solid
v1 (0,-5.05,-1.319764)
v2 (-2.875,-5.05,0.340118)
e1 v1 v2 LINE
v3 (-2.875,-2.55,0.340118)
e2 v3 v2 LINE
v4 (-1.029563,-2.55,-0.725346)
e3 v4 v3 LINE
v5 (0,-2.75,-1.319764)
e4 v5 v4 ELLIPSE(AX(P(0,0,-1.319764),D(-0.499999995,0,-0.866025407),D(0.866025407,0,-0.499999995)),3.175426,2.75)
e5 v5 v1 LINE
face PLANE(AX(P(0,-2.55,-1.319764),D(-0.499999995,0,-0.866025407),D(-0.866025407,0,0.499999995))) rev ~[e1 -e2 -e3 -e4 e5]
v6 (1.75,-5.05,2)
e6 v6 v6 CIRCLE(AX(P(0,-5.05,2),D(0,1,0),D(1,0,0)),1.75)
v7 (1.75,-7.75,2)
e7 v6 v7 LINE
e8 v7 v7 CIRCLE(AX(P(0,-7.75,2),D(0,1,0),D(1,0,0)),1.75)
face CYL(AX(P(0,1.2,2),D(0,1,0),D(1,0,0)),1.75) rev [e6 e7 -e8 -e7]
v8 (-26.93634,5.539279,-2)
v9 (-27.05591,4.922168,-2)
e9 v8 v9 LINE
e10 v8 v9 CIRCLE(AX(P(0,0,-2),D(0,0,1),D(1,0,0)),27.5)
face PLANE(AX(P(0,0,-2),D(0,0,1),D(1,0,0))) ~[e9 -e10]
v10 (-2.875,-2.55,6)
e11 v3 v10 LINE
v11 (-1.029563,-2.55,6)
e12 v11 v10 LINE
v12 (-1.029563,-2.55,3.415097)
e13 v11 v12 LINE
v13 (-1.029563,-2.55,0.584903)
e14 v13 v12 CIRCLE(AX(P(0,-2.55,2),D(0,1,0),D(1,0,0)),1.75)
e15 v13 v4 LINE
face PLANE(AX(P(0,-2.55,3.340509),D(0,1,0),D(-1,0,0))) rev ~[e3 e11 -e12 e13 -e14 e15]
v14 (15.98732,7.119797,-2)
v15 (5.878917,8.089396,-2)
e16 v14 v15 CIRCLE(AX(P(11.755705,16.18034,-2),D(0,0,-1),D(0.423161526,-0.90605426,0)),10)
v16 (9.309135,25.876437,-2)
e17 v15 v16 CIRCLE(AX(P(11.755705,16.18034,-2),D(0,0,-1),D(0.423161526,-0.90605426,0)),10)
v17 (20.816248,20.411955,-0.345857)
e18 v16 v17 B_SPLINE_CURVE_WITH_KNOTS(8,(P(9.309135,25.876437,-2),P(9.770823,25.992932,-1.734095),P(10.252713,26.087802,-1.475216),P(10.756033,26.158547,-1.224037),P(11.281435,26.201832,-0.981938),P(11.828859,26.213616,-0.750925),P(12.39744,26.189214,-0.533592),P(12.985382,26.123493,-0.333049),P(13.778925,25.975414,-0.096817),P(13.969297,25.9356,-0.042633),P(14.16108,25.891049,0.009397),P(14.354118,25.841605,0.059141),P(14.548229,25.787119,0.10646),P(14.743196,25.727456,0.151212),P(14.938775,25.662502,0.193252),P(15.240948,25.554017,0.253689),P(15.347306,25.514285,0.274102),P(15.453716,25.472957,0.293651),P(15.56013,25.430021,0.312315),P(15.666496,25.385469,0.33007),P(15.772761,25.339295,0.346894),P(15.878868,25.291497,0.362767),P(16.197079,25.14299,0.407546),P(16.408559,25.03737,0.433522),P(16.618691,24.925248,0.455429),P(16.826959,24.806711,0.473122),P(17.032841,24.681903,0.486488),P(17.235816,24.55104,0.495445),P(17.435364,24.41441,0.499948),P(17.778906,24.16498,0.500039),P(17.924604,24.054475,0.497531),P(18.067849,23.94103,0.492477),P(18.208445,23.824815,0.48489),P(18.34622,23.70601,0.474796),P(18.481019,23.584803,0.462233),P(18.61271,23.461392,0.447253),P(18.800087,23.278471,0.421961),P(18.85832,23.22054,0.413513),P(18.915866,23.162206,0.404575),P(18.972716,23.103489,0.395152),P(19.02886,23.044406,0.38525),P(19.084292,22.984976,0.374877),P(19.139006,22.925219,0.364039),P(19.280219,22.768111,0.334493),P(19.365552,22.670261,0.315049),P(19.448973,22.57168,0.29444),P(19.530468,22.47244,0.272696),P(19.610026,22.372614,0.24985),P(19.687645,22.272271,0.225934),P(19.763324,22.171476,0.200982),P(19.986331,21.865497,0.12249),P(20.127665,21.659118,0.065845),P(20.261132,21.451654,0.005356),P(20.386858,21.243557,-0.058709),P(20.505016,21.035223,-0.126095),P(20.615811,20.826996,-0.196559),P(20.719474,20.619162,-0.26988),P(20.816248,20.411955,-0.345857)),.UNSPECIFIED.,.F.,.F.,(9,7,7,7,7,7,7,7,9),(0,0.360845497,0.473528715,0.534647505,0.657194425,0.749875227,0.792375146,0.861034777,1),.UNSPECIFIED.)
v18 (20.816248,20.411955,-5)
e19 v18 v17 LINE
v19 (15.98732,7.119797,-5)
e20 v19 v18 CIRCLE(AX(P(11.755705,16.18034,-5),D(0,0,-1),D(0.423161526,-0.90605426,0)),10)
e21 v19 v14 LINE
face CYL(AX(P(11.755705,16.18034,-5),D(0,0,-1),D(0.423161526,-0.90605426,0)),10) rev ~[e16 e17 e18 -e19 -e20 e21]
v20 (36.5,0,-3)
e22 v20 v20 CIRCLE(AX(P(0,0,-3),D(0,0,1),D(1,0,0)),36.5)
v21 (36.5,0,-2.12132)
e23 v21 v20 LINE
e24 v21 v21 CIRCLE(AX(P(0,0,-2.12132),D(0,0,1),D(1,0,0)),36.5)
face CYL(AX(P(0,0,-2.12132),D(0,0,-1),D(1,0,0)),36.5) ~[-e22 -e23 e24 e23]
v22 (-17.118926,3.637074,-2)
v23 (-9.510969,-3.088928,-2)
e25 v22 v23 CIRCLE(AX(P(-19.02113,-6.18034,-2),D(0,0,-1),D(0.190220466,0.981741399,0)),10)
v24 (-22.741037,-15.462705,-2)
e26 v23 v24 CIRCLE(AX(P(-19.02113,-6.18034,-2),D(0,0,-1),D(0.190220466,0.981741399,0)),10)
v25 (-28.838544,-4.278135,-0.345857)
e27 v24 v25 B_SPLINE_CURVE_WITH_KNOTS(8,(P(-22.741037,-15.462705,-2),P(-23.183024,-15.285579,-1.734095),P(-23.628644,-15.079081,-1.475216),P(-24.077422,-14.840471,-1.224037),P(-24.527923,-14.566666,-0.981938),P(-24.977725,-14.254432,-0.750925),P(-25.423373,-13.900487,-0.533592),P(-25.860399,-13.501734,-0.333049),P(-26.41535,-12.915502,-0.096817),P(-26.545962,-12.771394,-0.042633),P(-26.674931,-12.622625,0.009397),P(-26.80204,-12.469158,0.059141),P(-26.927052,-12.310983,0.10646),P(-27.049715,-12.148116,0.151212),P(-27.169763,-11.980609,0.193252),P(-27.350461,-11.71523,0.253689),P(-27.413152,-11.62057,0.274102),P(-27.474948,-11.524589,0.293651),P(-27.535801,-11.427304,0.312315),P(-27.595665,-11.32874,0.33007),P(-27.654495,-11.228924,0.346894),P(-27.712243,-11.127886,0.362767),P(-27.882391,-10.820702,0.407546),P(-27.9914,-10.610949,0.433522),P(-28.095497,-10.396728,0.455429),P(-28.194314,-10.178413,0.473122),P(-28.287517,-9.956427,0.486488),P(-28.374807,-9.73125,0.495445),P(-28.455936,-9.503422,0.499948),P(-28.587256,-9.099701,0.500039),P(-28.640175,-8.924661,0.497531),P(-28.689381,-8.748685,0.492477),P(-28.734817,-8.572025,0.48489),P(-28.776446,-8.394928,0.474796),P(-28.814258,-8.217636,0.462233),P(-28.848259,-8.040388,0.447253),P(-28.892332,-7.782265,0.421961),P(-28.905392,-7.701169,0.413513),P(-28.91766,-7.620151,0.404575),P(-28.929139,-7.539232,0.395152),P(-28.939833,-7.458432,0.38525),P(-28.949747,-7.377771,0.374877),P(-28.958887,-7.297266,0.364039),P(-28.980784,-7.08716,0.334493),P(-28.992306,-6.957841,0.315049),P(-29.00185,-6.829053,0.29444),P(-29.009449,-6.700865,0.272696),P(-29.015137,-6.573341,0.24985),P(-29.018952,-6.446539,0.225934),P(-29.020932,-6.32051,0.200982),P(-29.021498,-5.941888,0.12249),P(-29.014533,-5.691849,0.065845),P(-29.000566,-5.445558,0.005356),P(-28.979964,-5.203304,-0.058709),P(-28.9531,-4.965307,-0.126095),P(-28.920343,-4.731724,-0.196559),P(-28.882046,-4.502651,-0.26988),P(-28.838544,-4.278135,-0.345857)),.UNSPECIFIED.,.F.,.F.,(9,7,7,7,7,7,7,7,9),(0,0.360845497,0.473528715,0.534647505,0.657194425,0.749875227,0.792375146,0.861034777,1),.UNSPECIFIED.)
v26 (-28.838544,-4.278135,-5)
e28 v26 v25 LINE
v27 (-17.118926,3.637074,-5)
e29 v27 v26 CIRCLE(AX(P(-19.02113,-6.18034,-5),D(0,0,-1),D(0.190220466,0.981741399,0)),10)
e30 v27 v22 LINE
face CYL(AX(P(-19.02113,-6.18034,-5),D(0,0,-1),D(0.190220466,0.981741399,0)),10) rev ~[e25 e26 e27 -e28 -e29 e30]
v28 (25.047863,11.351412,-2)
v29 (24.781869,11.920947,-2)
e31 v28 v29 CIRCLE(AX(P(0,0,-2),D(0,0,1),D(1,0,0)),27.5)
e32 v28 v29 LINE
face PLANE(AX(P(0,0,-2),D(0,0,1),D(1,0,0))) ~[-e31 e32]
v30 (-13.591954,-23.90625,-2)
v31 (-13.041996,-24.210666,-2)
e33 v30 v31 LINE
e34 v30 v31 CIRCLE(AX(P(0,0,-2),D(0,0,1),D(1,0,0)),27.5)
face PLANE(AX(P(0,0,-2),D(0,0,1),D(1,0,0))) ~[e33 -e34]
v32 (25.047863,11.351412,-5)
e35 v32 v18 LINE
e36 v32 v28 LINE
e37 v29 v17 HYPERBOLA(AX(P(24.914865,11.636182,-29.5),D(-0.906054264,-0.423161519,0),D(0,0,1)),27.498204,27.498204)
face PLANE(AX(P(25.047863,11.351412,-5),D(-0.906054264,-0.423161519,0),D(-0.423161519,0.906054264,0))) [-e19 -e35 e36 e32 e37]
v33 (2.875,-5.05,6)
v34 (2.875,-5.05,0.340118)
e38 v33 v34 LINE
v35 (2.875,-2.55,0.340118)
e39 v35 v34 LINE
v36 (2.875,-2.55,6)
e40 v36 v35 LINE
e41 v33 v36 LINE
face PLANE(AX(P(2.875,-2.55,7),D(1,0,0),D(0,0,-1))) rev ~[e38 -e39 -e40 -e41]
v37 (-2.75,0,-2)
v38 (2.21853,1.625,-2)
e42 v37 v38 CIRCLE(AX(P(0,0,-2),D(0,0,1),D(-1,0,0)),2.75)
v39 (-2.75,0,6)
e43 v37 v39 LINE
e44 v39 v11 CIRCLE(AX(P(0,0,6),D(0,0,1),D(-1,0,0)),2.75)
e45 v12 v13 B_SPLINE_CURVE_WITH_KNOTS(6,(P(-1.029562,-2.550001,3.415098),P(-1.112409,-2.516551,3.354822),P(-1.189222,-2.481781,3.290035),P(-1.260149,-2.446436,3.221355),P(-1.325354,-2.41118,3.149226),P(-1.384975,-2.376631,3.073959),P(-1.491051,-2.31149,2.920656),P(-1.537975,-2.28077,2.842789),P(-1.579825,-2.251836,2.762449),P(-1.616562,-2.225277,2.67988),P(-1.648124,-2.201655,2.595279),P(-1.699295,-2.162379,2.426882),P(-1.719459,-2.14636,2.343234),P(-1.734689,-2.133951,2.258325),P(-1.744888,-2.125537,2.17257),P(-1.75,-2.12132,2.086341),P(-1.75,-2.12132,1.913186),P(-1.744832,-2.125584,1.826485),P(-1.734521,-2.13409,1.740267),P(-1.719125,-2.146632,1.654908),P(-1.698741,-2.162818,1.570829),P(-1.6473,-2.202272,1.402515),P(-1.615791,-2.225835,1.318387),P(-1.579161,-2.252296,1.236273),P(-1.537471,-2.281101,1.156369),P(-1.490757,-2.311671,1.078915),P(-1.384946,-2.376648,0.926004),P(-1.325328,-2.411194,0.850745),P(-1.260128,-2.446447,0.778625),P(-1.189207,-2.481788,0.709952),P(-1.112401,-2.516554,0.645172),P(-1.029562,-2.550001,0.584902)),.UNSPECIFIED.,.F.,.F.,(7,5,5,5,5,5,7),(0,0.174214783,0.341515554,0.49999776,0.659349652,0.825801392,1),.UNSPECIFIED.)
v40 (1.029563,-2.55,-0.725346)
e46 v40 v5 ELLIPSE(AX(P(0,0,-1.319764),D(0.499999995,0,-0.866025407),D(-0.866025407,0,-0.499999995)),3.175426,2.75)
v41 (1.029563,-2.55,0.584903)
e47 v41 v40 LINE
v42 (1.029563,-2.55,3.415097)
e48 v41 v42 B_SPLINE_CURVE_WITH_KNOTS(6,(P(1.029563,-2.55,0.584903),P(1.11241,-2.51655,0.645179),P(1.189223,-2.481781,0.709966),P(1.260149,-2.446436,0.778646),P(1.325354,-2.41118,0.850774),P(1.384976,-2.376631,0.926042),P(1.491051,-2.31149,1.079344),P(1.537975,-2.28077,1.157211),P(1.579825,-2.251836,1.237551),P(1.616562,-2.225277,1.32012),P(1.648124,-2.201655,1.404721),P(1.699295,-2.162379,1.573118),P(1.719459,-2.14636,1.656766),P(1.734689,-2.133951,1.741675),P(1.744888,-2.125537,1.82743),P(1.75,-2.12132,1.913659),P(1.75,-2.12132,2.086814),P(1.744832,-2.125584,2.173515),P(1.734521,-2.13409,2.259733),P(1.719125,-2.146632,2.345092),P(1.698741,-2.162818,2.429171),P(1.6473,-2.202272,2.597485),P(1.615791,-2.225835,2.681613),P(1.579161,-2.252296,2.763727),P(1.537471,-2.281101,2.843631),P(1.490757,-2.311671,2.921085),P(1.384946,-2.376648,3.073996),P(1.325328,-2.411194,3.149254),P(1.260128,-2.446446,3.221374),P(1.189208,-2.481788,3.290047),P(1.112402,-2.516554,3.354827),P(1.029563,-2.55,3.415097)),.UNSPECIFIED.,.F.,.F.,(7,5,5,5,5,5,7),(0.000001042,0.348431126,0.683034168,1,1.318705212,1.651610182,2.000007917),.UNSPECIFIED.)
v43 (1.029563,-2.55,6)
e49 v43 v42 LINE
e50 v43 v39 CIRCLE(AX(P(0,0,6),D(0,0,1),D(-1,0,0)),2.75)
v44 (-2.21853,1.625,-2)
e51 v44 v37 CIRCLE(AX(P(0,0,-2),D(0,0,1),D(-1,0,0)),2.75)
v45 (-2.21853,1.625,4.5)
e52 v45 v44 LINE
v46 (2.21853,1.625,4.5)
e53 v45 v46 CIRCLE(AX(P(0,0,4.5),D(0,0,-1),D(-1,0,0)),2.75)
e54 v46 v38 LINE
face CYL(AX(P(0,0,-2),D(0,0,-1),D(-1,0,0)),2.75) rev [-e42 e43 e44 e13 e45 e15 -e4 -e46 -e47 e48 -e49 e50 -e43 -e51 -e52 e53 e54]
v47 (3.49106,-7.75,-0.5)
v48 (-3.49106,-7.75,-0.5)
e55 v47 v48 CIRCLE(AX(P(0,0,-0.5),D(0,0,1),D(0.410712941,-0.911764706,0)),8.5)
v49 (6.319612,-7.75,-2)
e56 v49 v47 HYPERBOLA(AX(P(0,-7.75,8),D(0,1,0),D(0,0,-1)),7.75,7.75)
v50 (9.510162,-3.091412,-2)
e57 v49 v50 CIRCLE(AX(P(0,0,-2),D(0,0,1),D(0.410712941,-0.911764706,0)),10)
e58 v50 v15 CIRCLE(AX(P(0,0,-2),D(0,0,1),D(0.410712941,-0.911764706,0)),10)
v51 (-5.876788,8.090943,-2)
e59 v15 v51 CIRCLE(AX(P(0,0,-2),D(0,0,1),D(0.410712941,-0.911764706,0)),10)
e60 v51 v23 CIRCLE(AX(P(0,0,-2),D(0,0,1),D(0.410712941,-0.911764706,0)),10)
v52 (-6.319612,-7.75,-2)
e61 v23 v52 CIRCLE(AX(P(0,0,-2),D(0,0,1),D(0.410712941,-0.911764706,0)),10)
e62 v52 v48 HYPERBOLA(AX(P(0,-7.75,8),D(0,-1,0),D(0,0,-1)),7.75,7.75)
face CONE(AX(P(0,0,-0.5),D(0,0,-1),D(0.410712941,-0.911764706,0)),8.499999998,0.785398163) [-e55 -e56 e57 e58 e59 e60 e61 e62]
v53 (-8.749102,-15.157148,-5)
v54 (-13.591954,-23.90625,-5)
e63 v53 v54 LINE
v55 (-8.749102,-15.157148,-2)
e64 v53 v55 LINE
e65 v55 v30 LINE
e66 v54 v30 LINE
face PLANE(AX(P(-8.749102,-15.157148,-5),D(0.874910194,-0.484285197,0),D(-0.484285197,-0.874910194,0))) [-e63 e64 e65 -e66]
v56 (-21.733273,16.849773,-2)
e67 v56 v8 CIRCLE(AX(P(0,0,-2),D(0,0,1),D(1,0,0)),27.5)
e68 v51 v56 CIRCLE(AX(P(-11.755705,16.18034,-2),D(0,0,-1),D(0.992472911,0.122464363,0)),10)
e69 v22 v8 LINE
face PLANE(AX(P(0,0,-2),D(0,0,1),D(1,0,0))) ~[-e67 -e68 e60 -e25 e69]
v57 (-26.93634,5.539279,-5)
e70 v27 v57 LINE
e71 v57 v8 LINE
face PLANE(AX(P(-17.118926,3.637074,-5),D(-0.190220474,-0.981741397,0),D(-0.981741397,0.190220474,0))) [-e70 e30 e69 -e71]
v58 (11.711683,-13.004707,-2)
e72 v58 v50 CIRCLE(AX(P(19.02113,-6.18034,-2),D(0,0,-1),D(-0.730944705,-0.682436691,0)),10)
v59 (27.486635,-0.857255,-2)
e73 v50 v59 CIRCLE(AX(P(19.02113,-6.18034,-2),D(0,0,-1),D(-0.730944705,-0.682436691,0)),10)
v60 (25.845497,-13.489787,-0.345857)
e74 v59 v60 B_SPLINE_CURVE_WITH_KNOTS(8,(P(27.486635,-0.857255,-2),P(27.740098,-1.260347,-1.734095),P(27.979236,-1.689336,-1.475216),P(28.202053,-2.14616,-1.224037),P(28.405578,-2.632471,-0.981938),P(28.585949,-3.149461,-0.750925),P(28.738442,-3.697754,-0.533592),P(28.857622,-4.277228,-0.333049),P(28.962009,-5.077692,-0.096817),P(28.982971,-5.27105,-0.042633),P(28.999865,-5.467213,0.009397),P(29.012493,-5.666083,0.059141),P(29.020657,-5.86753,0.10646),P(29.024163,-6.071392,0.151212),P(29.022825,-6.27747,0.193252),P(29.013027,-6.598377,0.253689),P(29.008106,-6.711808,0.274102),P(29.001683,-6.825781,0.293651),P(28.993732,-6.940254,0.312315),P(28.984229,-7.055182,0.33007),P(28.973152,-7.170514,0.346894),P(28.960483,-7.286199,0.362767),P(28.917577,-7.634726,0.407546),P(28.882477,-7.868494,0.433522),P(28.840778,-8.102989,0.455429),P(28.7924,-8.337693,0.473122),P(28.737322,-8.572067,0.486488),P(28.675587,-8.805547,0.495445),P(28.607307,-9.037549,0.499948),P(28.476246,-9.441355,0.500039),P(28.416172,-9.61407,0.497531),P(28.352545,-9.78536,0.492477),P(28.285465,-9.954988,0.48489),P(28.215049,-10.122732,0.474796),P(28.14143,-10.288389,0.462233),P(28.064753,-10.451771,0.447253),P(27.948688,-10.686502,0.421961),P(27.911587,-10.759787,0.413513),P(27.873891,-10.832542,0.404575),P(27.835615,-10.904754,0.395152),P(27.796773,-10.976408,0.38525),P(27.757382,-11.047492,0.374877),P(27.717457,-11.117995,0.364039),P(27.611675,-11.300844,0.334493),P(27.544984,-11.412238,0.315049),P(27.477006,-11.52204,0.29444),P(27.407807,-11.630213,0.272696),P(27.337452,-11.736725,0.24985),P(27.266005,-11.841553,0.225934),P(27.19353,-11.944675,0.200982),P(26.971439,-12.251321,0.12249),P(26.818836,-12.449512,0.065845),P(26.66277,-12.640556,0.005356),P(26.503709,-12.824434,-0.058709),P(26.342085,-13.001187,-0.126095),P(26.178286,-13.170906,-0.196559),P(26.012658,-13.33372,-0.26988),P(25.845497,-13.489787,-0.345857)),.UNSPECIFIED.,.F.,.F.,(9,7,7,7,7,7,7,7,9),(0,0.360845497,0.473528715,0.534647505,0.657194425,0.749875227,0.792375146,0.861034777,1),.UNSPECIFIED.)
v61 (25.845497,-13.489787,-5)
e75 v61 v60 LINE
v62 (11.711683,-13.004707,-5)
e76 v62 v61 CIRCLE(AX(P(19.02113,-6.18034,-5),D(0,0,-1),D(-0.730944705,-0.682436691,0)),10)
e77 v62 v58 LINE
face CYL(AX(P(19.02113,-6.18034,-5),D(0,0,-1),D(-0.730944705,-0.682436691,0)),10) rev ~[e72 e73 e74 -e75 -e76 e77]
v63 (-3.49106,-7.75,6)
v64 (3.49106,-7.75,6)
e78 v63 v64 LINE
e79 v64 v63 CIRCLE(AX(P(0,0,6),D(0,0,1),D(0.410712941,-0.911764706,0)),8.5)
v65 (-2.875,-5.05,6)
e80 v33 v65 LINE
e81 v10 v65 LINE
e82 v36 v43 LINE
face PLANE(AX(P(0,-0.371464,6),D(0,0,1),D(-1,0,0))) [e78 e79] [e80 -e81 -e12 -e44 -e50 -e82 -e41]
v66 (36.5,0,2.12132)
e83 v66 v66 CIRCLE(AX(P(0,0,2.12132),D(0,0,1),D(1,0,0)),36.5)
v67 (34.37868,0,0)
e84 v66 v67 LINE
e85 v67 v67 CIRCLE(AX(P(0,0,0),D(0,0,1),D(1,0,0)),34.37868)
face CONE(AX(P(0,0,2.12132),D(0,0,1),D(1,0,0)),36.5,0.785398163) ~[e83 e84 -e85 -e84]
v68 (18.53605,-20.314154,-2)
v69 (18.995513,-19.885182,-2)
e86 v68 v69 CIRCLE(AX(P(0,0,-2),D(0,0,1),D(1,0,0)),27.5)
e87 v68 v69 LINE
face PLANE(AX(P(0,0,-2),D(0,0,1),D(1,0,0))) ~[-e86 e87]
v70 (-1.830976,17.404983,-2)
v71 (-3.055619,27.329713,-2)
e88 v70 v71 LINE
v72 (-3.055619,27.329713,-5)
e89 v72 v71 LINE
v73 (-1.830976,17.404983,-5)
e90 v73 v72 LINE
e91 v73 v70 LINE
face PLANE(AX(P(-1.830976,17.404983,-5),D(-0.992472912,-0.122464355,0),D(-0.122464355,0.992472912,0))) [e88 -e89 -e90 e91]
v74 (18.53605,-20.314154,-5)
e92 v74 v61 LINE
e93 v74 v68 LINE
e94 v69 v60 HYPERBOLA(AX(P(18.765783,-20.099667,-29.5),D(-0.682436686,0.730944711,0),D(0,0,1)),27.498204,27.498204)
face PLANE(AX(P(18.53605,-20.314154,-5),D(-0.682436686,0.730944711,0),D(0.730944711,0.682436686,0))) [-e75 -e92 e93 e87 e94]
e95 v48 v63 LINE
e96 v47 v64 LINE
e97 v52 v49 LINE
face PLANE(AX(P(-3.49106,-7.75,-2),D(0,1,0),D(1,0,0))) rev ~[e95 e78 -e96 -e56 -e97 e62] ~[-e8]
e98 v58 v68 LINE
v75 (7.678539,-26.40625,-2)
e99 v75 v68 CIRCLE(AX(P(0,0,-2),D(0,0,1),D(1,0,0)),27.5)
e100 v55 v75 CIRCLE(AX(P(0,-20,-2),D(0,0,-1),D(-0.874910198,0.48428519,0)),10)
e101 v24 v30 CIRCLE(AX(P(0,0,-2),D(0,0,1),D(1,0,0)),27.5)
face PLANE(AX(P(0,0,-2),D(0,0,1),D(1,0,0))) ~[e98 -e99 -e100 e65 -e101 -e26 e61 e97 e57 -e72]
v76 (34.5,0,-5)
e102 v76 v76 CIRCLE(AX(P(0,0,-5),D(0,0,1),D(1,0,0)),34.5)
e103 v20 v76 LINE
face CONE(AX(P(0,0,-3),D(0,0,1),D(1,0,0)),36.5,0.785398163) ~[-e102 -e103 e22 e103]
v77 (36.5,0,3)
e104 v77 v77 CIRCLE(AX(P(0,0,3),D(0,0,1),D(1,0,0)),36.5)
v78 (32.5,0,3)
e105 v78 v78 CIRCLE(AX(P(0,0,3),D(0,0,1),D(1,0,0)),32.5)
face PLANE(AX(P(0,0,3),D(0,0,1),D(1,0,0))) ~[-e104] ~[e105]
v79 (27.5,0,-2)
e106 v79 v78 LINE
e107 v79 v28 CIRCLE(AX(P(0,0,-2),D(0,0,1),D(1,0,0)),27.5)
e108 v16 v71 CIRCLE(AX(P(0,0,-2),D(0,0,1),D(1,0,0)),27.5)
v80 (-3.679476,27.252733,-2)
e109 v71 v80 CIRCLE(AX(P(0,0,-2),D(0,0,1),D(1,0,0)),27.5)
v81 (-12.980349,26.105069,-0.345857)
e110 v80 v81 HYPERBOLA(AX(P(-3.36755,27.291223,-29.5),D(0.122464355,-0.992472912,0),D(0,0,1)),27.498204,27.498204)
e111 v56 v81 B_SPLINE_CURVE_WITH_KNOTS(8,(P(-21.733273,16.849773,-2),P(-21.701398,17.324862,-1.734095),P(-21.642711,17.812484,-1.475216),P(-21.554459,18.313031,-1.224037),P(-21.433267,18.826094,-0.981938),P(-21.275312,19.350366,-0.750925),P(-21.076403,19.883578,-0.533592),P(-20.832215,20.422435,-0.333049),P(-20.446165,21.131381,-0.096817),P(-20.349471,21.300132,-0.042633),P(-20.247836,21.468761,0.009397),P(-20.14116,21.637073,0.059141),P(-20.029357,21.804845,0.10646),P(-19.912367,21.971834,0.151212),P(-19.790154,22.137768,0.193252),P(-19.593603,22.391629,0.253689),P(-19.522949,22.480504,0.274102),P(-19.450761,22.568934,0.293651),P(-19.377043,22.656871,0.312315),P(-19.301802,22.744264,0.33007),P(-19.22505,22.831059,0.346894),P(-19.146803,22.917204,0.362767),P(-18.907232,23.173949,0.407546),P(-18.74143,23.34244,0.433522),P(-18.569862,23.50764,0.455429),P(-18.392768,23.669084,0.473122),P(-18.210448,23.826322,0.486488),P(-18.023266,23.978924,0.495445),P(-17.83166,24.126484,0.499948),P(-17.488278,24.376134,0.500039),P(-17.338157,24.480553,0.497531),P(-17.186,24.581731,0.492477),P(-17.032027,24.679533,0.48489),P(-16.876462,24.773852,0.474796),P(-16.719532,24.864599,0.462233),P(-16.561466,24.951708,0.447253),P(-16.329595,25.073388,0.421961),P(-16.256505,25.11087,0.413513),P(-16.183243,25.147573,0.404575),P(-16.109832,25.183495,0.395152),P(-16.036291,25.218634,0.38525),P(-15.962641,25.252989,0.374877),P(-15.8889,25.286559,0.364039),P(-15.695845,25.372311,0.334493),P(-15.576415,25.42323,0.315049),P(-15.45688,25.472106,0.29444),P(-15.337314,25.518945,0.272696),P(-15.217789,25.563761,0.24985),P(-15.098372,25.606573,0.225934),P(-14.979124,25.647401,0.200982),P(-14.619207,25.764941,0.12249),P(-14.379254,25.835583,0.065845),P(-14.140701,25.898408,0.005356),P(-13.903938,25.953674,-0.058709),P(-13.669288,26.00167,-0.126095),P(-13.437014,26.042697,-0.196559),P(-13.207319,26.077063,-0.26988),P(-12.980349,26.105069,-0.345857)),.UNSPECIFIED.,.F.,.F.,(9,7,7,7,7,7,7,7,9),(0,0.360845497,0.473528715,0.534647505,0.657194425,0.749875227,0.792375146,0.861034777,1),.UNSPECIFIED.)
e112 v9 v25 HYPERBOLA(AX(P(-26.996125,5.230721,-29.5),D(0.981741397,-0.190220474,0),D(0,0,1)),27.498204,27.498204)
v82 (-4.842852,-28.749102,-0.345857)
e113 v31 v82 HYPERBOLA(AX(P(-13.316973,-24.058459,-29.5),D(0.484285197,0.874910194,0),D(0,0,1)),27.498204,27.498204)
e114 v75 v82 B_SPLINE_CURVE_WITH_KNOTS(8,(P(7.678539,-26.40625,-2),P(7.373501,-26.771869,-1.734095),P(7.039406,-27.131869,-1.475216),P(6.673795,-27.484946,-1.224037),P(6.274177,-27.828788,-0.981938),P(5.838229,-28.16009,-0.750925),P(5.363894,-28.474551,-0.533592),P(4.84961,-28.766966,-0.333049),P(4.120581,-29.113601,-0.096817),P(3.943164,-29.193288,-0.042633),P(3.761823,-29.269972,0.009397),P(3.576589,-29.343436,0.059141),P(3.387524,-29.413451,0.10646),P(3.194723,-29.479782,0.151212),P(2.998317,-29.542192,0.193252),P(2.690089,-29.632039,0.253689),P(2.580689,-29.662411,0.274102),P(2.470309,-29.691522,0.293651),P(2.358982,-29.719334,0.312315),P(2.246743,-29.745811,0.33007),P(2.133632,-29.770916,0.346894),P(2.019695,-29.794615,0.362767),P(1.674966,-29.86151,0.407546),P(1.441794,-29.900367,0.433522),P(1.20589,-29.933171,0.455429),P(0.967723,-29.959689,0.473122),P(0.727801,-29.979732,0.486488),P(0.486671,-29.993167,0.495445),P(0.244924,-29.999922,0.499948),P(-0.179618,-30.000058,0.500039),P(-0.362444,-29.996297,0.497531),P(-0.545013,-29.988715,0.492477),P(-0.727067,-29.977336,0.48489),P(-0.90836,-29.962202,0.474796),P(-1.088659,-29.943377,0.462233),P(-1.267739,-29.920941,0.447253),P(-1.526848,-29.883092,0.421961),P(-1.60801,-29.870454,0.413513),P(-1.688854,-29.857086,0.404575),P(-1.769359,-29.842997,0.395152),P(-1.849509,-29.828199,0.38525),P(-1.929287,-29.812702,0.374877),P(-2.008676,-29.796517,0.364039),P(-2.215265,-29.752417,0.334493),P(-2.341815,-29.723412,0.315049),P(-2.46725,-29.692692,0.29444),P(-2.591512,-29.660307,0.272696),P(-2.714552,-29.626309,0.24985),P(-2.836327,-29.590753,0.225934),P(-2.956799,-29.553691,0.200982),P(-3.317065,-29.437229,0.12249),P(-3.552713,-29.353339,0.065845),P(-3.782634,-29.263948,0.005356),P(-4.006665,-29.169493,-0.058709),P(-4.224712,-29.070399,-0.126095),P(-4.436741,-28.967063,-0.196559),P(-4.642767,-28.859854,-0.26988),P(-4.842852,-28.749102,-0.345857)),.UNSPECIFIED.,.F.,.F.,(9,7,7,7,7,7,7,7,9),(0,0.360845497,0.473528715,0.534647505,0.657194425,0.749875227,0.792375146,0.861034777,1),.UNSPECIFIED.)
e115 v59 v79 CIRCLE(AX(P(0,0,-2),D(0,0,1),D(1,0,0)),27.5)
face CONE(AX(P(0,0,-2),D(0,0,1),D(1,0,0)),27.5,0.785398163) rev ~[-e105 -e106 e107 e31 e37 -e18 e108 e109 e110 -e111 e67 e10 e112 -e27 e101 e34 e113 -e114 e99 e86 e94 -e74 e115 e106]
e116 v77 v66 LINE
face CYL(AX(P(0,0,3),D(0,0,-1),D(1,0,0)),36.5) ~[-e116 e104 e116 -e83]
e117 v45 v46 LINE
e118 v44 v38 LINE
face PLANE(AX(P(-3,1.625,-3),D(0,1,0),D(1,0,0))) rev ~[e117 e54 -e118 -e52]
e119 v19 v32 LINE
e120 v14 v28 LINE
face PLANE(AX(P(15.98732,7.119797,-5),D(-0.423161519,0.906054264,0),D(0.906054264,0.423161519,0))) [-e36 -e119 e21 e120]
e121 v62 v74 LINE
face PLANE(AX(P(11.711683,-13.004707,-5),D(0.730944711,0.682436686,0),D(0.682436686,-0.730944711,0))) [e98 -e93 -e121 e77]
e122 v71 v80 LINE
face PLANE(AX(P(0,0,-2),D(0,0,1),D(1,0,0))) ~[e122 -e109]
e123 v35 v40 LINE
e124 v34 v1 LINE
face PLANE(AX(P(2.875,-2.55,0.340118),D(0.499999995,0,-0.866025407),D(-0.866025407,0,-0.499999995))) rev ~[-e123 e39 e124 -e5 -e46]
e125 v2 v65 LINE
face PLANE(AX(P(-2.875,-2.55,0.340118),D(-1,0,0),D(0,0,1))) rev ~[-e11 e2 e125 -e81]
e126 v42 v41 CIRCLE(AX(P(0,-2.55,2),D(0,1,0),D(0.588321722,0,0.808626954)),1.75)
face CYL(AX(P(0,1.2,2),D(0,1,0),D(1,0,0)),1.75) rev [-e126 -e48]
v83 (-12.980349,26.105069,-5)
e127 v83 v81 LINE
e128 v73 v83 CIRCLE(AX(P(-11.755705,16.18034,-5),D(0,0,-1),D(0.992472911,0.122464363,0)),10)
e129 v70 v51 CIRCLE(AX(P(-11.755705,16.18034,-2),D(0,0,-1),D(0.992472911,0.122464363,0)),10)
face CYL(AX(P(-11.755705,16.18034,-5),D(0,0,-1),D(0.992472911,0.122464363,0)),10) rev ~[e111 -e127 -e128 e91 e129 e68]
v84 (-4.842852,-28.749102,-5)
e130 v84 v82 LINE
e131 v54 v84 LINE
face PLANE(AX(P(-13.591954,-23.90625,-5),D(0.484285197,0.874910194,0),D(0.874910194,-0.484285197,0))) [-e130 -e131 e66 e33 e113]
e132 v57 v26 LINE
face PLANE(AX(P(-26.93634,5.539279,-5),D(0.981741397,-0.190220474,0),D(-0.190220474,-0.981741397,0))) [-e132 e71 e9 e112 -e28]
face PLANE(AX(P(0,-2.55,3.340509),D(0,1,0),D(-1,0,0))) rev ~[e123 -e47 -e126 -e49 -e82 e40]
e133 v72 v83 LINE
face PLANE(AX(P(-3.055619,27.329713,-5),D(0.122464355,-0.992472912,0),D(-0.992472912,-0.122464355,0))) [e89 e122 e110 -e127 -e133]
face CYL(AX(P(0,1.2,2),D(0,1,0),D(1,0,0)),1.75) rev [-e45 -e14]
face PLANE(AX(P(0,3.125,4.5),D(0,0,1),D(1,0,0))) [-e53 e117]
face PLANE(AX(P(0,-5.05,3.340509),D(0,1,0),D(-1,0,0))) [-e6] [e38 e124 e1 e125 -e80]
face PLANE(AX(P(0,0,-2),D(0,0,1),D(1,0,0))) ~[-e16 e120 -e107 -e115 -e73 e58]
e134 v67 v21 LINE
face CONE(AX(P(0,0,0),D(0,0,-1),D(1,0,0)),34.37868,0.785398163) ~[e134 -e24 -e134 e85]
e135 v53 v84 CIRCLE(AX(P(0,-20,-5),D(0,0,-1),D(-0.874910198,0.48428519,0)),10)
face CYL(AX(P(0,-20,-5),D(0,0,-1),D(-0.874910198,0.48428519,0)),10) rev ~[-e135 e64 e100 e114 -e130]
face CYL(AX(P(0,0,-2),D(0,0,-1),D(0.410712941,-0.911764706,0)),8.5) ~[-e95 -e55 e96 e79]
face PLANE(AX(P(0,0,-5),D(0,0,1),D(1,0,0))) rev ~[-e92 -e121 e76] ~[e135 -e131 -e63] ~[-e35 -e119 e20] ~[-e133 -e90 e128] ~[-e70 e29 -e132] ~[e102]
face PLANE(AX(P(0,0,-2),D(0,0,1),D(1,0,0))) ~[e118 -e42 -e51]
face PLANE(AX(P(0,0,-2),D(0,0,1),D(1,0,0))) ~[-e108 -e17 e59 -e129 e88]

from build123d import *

# Parameters (mm, degrees)
PAD_DEPTH              = 2.5
CYLINDER001_R          = 1.75
CYLINDER001_DEPTH      = 10
CYLINDER001_ROLL_ANGLE = 90
BOX_W                  = 6
BOX_H                  = 3
BOX_DEPTH              = 7.5
SKETCH003_R            = 2.75
PAD001_DEPTH           = 8
CHAMFER_SIZE           = 1.5
POCKET_DEPTH           = 218.644926
POLARPATTERN_COUNT     = 5


with BuildPart() as captive_nut:
    # Sketch002 → Pad (new body)
    with BuildSketch(Plane.XZ):
        Polygon((-2.875, 5), (2.875, 5), (2.875, -1.659882), (0, -3.319764), (-2.875, -1.659882), align=None)
    extrude(amount=PAD_DEPTH)


with BuildPart() as captive_nut_1:
    # Clone placement: moved
    add(captive_nut.part.moved(Location((0, -3.75, 2))))


with BuildPart() as captive_nut_screw_fusion:
    # Cylinder001 → Cylinder001 (new body)
    with BuildSketch(Plane.XY):
        Circle(CYLINDER001_R)
    extrude(amount=CYLINDER001_DEPTH)


with BuildPart() as captive_nut_screw_fusion_1:
    # Cylinder001 roll: moved
    add(captive_nut_screw_fusion.part.rotate(Axis((0, 0, 0), (1, 0, 0)), CYLINDER001_ROLL_ANGLE))


with BuildPart() as captive_nut_screw_fusion_2:
    # Cylinder001 placement: moved
    add(captive_nut_screw_fusion_1.part.moved(Location((0, 0, 2))))

    # Fusion: union captive-nut
    add(captive_nut_1.part)


with BuildPart() as captive_nut_screw_fusion_3:
    # Fusion placement: moved
    add(captive_nut_screw_fusion_2.part.moved(Location((0, 1.2, 0))))


with BuildPart() as shaft_recess_cube:
    # Box → Box (new body)
    with BuildSketch(Plane(origin=(-3, 1.625, -3), x_dir=(1, 0, 0), z_dir=(0, 0, 1))):
        with Locations((3, 1.5)):
            Rectangle(BOX_W, BOX_H)
    extrude(amount=BOX_DEPTH)


with BuildPart() as wheel_r:
    # Sketch → Revolution (revolve)
    with BuildSketch(Plane.XZ):
        Polygon((0, -2), (27.5, -2), (32.5, 3), (36.5, 3), (36.5, 2.12132), (34.37868, 0), (36.5, -2.12132), (36.5, -3), (34.5, -5), (0, -5), align=None)
    revolve(axis=Axis((0, 0, 0), (0, 0, 1)))

    # Sketch003 → Pad001 (new body)
    with BuildSketch(Plane(origin=(0, 0, -2), x_dir=(-1, 0, 0), z_dir=(0, 0, 1))):
        with BuildLine():
            ThreePointArc((-3.49106, 7.75), (0, -8.5), (3.49106, 7.75))
            Line((3.49106, 7.75), (-3.49106, 7.75))
        make_face()
        Circle(SKETCH003_R, mode=Mode.SUBTRACT)
    extrude(amount=PAD001_DEPTH)

    # Fusion001: union shaft-recess-cube
    add(shaft_recess_cube.part)

    # Cut: cut captive-nut-screw-fusion
    add(captive_nut_screw_fusion_3.part, mode=Mode.SUBTRACT)

    # Chamfer
    chamfer_edges = [wheel_r.edges().sort_by_distance(p)[0] for p in [
        (0, 8.5, -2),
    ]]
    chamfer(chamfer_edges, length=CHAMFER_SIZE)

    # Sketch004 → Pocket (cut, through all)
    with BuildSketch(Plane(origin=(0, 0, -5), x_dir=(1, 0, 0), z_dir=(0, 0, -1))):
        with BuildLine():
            ThreePointArc((-8.749102, 15.157148), (9.610963, 17.237864), (-4.842852, 28.749102))
            Line((-13.591954, 23.90625), (-4.842852, 28.749102))
            Line((-8.749102, 15.157148), (-13.591954, 23.90625))
        make_face()
    pocket = extrude(amount=-POCKET_DEPTH, mode=Mode.SUBTRACT)

    # PolarPattern: Pocket ×5 about axis
    polarpattern_axis = Axis((0, 0, -5), (0, 0, -1))
    for i in range(1, POLARPATTERN_COUNT):
        add(pocket.rotate(polarpattern_axis, i * 360 / POLARPATTERN_COUNT), mode=Mode.SUBTRACT)


solid = wheel_r.part
